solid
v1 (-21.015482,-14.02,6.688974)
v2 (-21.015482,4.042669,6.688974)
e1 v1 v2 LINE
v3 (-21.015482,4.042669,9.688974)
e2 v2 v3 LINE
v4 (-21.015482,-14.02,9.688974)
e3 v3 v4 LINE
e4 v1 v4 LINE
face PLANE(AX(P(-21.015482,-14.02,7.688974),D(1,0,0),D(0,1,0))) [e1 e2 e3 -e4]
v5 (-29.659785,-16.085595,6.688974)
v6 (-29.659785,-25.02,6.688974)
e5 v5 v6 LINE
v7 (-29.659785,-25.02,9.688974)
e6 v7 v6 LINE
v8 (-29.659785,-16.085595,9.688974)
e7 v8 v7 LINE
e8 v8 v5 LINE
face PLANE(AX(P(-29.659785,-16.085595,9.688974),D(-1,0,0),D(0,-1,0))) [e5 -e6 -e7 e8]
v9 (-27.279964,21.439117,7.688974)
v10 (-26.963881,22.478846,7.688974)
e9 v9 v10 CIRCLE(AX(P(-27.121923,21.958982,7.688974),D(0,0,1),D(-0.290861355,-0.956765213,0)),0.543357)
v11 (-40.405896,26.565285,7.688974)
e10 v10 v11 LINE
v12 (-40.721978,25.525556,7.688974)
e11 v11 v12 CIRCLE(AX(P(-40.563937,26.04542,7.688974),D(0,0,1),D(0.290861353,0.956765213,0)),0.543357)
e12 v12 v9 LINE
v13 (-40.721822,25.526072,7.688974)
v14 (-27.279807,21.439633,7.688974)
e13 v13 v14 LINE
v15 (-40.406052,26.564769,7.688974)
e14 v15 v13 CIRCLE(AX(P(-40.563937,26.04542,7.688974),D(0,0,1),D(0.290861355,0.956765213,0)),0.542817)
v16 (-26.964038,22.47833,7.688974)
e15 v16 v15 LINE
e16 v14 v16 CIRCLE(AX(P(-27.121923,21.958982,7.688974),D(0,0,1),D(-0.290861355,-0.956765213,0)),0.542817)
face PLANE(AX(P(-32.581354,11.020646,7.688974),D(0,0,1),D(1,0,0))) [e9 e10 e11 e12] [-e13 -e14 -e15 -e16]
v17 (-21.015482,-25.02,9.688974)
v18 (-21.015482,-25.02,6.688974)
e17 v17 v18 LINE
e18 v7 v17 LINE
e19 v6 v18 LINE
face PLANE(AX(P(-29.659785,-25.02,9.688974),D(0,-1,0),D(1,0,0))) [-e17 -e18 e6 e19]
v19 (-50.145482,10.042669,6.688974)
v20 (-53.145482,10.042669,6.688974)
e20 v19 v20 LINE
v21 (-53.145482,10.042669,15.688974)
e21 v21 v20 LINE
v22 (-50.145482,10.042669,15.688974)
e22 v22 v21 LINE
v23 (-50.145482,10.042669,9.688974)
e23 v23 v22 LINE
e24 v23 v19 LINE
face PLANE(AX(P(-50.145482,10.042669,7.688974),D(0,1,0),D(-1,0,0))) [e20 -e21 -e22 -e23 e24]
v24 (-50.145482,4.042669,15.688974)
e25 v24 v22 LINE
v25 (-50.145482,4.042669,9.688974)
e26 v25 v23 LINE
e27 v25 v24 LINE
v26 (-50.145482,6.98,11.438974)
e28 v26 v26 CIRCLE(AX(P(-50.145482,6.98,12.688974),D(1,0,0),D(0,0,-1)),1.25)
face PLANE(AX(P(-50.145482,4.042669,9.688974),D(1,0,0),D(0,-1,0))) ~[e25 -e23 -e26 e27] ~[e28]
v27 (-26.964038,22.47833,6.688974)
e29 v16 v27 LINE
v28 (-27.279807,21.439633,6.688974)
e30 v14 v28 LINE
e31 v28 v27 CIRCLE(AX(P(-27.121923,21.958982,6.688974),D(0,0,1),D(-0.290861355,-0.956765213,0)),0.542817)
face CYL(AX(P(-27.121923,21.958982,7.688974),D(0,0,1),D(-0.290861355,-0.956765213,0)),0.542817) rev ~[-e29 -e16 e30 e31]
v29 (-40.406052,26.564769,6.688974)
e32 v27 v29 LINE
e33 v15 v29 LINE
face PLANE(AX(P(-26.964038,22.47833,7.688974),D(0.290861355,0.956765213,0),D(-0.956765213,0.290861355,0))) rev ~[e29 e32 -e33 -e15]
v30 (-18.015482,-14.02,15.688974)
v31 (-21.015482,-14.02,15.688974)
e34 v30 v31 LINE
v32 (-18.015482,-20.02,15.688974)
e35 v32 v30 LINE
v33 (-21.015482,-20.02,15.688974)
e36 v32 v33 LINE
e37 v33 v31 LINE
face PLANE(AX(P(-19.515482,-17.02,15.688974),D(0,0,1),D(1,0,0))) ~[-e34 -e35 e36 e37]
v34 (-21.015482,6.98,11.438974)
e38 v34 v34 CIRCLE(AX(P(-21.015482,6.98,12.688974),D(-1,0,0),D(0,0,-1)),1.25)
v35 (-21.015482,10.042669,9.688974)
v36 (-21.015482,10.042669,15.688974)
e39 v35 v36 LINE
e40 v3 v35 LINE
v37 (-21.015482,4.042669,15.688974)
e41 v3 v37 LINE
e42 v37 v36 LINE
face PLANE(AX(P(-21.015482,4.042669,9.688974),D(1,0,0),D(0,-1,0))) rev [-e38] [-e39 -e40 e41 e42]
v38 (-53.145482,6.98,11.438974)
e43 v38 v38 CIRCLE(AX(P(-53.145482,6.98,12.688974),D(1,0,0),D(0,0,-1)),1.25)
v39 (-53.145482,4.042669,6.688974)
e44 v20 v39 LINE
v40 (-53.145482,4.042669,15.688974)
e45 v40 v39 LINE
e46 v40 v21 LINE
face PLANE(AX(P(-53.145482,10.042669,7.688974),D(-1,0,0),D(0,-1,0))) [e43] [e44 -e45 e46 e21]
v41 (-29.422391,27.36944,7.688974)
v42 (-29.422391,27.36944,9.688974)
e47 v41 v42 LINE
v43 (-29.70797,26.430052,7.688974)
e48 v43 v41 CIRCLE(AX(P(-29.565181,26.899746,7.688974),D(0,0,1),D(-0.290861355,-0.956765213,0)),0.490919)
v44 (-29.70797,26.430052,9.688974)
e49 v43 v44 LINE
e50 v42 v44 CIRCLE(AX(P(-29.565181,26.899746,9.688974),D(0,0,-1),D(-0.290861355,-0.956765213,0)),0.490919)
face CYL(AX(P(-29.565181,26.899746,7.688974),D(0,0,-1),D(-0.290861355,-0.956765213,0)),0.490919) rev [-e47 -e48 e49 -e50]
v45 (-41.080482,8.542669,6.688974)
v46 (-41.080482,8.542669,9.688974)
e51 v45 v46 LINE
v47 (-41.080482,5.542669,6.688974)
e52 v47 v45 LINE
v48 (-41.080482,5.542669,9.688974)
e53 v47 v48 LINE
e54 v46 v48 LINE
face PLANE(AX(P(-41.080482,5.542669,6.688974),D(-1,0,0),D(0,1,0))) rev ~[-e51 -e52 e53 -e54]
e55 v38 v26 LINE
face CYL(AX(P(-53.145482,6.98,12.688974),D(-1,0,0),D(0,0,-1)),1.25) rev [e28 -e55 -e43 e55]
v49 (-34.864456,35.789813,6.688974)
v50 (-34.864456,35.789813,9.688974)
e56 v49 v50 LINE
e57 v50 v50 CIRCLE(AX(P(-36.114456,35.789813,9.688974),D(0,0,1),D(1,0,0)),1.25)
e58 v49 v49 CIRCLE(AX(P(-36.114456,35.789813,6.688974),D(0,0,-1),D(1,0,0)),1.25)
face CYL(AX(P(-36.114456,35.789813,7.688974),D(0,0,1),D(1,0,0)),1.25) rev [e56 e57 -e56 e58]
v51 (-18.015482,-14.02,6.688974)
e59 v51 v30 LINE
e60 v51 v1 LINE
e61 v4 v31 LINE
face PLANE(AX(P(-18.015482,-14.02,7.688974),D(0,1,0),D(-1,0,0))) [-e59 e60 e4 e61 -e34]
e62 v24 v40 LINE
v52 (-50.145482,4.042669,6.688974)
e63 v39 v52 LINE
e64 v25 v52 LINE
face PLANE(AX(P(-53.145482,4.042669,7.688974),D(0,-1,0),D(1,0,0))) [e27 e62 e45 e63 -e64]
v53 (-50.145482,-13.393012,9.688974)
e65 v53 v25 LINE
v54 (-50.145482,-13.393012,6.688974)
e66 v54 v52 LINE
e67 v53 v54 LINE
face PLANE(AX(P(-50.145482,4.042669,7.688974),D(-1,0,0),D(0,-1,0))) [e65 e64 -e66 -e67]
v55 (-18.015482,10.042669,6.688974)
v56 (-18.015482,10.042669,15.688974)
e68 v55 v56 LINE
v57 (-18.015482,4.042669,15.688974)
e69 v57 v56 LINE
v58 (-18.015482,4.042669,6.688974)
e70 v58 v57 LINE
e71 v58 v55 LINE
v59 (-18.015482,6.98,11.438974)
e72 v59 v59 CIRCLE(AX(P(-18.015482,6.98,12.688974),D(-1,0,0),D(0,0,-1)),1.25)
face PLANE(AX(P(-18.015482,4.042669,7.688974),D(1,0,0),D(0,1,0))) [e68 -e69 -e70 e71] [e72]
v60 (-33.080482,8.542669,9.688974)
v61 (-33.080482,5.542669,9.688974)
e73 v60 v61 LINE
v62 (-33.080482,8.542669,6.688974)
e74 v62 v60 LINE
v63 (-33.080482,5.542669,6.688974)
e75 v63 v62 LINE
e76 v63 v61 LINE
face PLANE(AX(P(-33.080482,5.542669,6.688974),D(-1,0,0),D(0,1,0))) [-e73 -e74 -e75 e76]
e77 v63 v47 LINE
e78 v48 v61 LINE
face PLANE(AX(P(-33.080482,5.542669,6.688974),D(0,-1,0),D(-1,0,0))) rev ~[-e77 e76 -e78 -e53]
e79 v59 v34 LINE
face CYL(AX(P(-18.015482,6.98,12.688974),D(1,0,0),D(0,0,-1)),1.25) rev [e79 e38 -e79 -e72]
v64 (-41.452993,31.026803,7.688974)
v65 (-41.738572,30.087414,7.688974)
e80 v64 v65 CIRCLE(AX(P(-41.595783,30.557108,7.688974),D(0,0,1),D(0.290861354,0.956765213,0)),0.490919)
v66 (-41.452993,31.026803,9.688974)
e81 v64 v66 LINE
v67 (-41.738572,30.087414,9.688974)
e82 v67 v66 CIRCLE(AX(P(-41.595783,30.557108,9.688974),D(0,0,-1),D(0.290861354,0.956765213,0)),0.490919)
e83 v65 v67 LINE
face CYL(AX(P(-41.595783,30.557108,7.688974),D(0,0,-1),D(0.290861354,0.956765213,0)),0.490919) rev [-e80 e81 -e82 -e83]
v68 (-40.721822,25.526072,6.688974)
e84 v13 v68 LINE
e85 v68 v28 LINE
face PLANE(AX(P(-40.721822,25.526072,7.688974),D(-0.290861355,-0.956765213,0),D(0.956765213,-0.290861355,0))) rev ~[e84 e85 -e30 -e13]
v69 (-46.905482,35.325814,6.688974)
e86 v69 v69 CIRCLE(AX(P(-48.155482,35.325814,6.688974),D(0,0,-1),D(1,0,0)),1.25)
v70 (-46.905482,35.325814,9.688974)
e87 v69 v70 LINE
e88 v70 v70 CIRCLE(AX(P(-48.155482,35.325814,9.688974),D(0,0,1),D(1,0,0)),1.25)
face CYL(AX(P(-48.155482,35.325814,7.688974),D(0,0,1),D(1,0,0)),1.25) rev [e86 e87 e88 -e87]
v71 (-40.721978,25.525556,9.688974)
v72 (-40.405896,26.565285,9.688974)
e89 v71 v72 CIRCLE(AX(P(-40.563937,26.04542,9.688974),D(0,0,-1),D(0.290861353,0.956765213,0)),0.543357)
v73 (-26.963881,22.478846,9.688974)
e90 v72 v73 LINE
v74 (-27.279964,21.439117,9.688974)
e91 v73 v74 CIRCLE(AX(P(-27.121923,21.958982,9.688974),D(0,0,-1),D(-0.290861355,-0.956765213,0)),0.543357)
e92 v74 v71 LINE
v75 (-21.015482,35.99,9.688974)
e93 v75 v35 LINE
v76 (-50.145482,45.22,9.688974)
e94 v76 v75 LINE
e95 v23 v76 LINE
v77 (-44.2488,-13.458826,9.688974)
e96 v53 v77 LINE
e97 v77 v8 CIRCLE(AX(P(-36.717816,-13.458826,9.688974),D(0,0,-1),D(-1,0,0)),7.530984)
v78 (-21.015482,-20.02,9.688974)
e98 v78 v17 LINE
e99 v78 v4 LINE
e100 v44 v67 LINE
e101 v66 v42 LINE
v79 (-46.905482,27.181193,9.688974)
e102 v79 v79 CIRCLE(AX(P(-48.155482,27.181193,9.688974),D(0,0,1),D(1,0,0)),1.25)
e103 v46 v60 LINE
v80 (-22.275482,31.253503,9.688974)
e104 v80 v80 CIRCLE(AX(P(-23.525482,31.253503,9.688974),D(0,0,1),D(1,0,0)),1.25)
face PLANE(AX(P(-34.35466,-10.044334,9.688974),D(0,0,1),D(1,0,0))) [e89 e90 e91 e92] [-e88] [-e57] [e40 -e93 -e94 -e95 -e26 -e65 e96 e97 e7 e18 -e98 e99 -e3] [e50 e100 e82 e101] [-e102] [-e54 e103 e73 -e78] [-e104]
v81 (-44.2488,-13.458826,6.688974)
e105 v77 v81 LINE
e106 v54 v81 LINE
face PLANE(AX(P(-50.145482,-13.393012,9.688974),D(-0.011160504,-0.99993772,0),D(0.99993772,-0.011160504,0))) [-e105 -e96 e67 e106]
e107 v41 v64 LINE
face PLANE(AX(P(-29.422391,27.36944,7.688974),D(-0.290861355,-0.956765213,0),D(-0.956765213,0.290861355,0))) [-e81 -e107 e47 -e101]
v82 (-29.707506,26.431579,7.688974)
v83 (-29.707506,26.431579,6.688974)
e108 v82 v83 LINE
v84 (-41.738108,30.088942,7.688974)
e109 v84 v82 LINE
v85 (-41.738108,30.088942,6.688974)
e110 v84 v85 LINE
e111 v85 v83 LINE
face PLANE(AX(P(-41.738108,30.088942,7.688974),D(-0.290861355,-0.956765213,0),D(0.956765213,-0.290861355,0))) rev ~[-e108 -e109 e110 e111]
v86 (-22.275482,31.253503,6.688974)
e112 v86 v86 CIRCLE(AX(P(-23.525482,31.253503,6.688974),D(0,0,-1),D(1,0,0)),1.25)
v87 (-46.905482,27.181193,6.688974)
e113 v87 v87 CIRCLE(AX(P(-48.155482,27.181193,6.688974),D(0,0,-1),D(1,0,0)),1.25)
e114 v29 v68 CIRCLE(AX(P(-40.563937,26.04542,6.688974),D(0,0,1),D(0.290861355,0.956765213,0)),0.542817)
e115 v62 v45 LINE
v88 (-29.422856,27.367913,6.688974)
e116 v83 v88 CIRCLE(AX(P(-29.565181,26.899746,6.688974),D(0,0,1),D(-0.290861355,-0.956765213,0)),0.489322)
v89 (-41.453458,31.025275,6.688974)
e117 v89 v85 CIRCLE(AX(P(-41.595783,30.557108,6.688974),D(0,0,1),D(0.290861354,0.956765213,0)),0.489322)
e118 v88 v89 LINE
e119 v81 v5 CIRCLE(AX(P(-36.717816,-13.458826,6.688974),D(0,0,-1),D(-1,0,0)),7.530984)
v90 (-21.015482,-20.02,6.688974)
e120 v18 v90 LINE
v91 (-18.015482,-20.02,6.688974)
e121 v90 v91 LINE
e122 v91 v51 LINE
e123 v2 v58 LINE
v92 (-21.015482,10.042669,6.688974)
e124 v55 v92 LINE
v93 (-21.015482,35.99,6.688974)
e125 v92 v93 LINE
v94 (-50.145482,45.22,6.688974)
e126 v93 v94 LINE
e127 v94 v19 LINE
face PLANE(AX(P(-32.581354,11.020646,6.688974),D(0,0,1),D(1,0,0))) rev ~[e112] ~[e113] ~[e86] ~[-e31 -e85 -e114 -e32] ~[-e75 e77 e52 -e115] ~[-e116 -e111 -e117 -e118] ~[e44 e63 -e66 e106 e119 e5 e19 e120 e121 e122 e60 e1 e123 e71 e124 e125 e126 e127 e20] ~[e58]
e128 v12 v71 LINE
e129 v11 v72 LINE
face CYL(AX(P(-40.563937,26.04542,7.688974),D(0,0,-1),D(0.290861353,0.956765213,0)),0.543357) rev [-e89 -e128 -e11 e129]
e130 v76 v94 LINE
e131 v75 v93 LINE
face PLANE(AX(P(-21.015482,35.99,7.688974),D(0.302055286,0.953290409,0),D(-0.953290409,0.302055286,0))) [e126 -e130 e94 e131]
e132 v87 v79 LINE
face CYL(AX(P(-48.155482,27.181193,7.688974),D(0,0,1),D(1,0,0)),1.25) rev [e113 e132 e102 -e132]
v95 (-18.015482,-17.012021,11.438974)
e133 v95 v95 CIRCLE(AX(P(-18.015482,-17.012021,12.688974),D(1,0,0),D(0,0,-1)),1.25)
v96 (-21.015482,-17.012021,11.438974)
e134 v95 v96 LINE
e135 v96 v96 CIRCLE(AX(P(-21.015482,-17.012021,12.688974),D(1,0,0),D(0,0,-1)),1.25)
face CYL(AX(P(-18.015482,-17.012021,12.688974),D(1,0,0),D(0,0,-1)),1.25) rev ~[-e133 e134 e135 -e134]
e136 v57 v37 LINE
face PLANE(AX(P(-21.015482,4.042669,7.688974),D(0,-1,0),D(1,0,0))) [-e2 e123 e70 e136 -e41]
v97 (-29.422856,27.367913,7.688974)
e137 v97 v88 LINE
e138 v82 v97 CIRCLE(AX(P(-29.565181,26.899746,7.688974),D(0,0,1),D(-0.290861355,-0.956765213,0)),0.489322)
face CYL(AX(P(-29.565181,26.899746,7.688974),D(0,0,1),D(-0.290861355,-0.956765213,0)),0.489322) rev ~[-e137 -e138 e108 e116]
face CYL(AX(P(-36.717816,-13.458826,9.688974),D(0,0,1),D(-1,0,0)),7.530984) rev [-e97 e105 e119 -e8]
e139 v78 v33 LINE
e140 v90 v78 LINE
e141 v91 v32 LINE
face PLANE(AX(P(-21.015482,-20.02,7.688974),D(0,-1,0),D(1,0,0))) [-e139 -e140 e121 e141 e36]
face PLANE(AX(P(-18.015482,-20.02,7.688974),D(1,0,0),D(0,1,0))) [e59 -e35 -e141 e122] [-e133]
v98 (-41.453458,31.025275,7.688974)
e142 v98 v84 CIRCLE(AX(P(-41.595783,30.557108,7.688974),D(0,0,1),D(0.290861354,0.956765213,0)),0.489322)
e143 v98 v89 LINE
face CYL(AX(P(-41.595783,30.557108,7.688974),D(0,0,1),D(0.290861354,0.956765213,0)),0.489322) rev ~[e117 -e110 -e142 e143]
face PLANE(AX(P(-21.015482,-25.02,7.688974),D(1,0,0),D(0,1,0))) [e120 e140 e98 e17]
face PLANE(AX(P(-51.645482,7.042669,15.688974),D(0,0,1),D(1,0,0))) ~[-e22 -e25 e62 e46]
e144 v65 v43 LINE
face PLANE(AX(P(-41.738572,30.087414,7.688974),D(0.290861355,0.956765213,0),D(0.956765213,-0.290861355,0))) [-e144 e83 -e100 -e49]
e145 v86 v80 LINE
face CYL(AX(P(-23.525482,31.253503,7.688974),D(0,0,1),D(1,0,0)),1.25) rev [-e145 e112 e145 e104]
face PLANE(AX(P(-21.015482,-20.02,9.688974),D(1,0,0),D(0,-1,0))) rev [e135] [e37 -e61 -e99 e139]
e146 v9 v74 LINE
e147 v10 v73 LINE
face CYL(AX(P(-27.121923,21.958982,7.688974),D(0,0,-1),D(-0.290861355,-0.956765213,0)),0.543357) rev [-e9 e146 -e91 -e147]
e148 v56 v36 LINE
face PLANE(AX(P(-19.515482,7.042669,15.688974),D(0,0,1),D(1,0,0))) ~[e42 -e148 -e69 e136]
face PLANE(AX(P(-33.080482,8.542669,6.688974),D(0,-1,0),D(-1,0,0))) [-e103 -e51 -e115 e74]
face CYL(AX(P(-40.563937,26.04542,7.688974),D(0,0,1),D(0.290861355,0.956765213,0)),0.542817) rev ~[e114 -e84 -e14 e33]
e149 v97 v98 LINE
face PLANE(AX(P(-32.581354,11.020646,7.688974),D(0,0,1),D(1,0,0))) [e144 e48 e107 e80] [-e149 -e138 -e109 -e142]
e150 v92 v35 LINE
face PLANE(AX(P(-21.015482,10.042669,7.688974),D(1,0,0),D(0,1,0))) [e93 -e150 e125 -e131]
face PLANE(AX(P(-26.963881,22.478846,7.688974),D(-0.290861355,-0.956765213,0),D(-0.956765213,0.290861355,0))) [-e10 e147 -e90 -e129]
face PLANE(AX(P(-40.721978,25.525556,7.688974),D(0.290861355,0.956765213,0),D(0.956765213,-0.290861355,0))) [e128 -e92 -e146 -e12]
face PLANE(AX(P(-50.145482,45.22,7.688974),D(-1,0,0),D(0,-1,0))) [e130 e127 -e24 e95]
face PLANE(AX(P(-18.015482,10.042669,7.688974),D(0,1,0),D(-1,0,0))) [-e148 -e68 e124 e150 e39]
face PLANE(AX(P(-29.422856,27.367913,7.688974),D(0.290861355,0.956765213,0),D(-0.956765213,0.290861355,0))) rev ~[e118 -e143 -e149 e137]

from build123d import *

# Parameters (mm, degrees)
SKETCH1_W            = 29.13
SKETCH1_H            = 2
BOSS_EXTRUDE1_DEPTH  = 45.22
SKETCH15_W           = 3.835
SKETCH15_H           = 2
BOSS_EXTRUDE7_DEPTH  = 25.02
SKETCH19_W           = 2
SKETCH19_H           = 6
BOSS_EXTRUDE9_DEPTH  = 3
SKETCH20_W           = 3
SKETCH20_H           = 6
BOSS_EXTRUDE10_DEPTH = 6
CUT_EXTRUDE10_DEPTH  = 4
SKETCH27_R           = 1.25
CUT_EXTRUDE13_DEPTH  = 5
CUT_EXTRUDE16_DEPTH  = 4.86
CUT_EXTRUDE20_DEPTH  = 5
SKETCH28_R           = 1.25
CUT_EXTRUDE23_DEPTH  = 5
SKETCH32_R           = 1.25
CUT_EXTRUDE25_DEPTH  = 5
SKETCH38_W           = 2
SKETCH38_H           = 6
BOSS_EXTRUDE11_DEPTH = 3
SKETCH39_W           = 3
SKETCH39_H           = 6
BOSS_EXTRUDE12_DEPTH = 6
SKETCH40_R           = 1.250000005
CUT_EXTRUDE26_DEPTH  = 6
SKETCH51_W           = 2
SKETCH51_H           = 6
BOSS_EXTRUDE15_DEPTH = 3
SKETCH52_W           = 3
SKETCH52_H           = 6
BOSS_EXTRUDE16_DEPTH = 6
SKETCH53_R           = 1.249999995
CUT_EXTRUDE28_DEPTH  = 6
SKETCH54_R           = 1.25
CUT_EXTRUDE29_DEPTH  = 3
CUT_EXTRUDE30_DEPTH  = 10
BOSS_EXTRUDE17_DEPTH = 3
SKETCH57_R           = 1.25
BOSS_EXTRUDE18_DEPTH = 1
SKETCH58_W           = 8
SKETCH58_H           = 3
CUT_EXTRUDE31_DEPTH  = 10


with BuildPart() as part:
    # Sketch1 → Boss-Extrude1 (new body)
    with BuildSketch(Plane(origin=(0, 0, 0), x_dir=(1, 0, 0), z_dir=(0, 1, 0))):
        with Locations((-35.580481579, -22.688974349)):
            Rectangle(SKETCH1_W, SKETCH1_H)
    extrude(amount=BOSS_EXTRUDE1_DEPTH)

    # Sketch15 → Boss-Extrude7 (add)
    with BuildSketch(Plane.XZ):
        with Locations((-22.932981579, 22.688974349)):
            Rectangle(SKETCH15_W, SKETCH15_H)
    extrude(amount=BOSS_EXTRUDE7_DEPTH)

    # Sketch19 → Boss-Extrude9 (add)
    with BuildSketch(Plane(origin=(-21.015481579, 0, 0), x_dir=(0, 0, -1), z_dir=(1, 0, 0))):
        with Locations((-22.688974349, -17.02)):
            Rectangle(SKETCH19_W, SKETCH19_H)
    extrude(amount=BOSS_EXTRUDE9_DEPTH)

    # Sketch20 → Boss-Extrude10 (add)
    with BuildSketch(Plane(origin=(0, 0, 21.688974349), x_dir=(-1, 0, 0), z_dir=(0, 0, -1))):
        with Locations((19.515481579, -17.02)):
            Rectangle(SKETCH20_W, SKETCH20_H)
    extrude(amount=BOSS_EXTRUDE10_DEPTH)

    # Sketch24 → Cut-Extrude10 (cut)
    with BuildSketch(Plane.XY.offset(23.688974349)):
        Polygon((-21.015481579, 45.22), (-21.015481579, 37.57), (-50.145481579, 45.22), align=None)
    extrude(amount=-CUT_EXTRUDE10_DEPTH, mode=Mode.SUBTRACT)

    # Sketch27 → Cut-Extrude13 (cut)
    with BuildSketch(Plane.XY.offset(23.688974349)):
        with Locations((-48.155481573, 35.325814089)):
            Circle(SKETCH27_R)
        with Locations((-48.155481573, 27.181192799)):
            Circle(SKETCH27_R)
    extrude(amount=-CUT_EXTRUDE13_DEPTH, mode=Mode.SUBTRACT)

    # Sketch35 → Cut-Extrude16 (cut)
    with BuildSketch(Plane.XY.offset(23.688974349)):
        Polygon((-21.015481579, 35.99), (-21.015481579, 37.57), (-50.145481579, 45.22), align=None)
    extrude(amount=-CUT_EXTRUDE16_DEPTH, mode=Mode.SUBTRACT)


with BuildPart() as body_2:
    # Mirror1: mirrored copy
    add(part.part.mirror(Plane(origin=(0, 0, 15.688974349), x_dir=(1, 0, 0), z_dir=(0, 0, -1))))

    # Sketch37 → Cut-Extrude20 (cut)
    with BuildSketch(Plane(origin=(0, 0, 7.688974349), x_dir=(-1, 0, 0), z_dir=(0, 0, -1))):
        with BuildLine():
            Line((29.422391304, 27.369440111), (41.452993211, 31.026802565))
            ThreePointArc((41.452993211, 31.026802565), (42.065476612, 30.699897808), (41.738571855, 30.087414406))
            Line((41.738571855, 30.087414406), (29.707969948, 26.430051952))
            ThreePointArc((29.707969948, 26.430051952), (29.095486546, 26.75695671), (29.422391304, 27.369440111))
        make_face()
        with BuildLine():
            Line((26.963881394, 22.478846245), (40.405895564, 26.565285004))
            ThreePointArc((40.405895564, 26.565285004), (41.083801623, 26.203461785), (40.721978404, 25.525555725))
            Line((40.721978404, 25.525555725), (27.279964235, 21.439116966))
            ThreePointArc((27.279964235, 21.439116966), (26.602058175, 21.800940185), (26.963881394, 22.478846245))
        make_face()
    extrude(amount=-CUT_EXTRUDE20_DEPTH, mode=Mode.SUBTRACT)


with BuildPart() as body_2_2:
    # Mirror2: mirrored copy
    add(body_2.part.mirror(Plane.XY.offset(15.688974349)))

    # Sketch28 → Cut-Extrude23 (cut)
    with BuildSketch(Plane.XY.offset(23.688974349)):
        with Locations((-23.525481526, 31.253503444)):
            Circle(SKETCH28_R)
    extrude(amount=-CUT_EXTRUDE23_DEPTH, mode=Mode.SUBTRACT)

    # Sketch32 → Cut-Extrude25 (cut)
    with BuildSketch(Plane.XY.offset(23.688974349)):
        with Locations((-36.114456484, 35.789812978)):
            Circle(SKETCH32_R)
    extrude(amount=-CUT_EXTRUDE25_DEPTH, mode=Mode.SUBTRACT)

    # Sketch38 → Boss-Extrude11 (add)
    with BuildSketch(Plane.ZY.offset(50.145481579)):
        with Locations((22.688974349, 7.042669101)):
            Rectangle(SKETCH38_W, SKETCH38_H)
    extrude(amount=BOSS_EXTRUDE11_DEPTH)

    # Sketch39 → Boss-Extrude12 (add)
    with BuildSketch(Plane(origin=(0, 0, 21.688974349), x_dir=(-1, 0, 0), z_dir=(0, 0, -1))):
        with Locations((51.645481579, 7.042669101)):
            Rectangle(SKETCH39_W, SKETCH39_H)
    extrude(amount=BOSS_EXTRUDE12_DEPTH)

    # Sketch40 → Cut-Extrude26 (cut)
    with BuildSketch(Plane.ZY.offset(53.145481579)):
        with Locations((18.688974344, 6.98)):
            Circle(SKETCH40_R)
    extrude(amount=-CUT_EXTRUDE26_DEPTH, mode=Mode.SUBTRACT)

    # Sketch51 → Boss-Extrude15 (add)
    with BuildSketch(Plane(origin=(-21.015481579, 0, 0), x_dir=(0, 0, -1), z_dir=(1, 0, 0))):
        with Locations((-22.688974349, 7.042669101)):
            Rectangle(SKETCH51_W, SKETCH51_H)
    extrude(amount=BOSS_EXTRUDE15_DEPTH)

    # Sketch52 → Boss-Extrude16 (add)
    with BuildSketch(Plane(origin=(0, 0, 21.688974349), x_dir=(-1, 0, 0), z_dir=(0, 0, -1))):
        with Locations((19.515481579, 7.042669101)):
            Rectangle(SKETCH52_W, SKETCH52_H)
    extrude(amount=BOSS_EXTRUDE16_DEPTH)

    # Sketch53 → Cut-Extrude28 (cut)
    with BuildSketch(Plane(origin=(-18.015481579, 0, 0), x_dir=(0, 0, -1), z_dir=(1, 0, 0))):
        with Locations(Location((-18.688974344, 6.98, 0), (0, 0, 180))):
            Circle(SKETCH53_R)
    extrude(amount=-CUT_EXTRUDE28_DEPTH, mode=Mode.SUBTRACT)


with BuildPart() as body_2_3:
    # Mirror4: mirrored copy
    add(body_2_2.part.mirror(Plane(origin=(0, 0, 15.688974349), x_dir=(1, 0, 0), z_dir=(0, 0, -1))))

    # Sketch54 → Cut-Extrude29 (cut)
    with BuildSketch(Plane(origin=(-18.015481579, 0, 0), x_dir=(0, 0, -1), z_dir=(1, 0, 0))):
        with Locations((-12.688974354, -17.012020694)):
            Circle(SKETCH54_R)
    extrude(amount=-CUT_EXTRUDE29_DEPTH, mode=Mode.SUBTRACT)

    # Sketch55 → Cut-Extrude30 (cut)
    with BuildSketch(Plane(origin=(0, 0, 7.688974349), x_dir=(-1, 0, 0), z_dir=(0, 0, -1))):
        Polygon((24.850481579, 0), (21.015481579, -25.02), (24.850481579, -25.02), align=None)
    extrude(amount=-CUT_EXTRUDE30_DEPTH, mode=Mode.SUBTRACT)

    # Sketch56 → Boss-Extrude17 (add)
    with BuildSketch(Plane.XY.offset(9.688974349)):
        with BuildLine():
            Line((-21.015481579, -25.02), (-24.850481579, 0))
            Line((-24.850481579, 0), (-50.145481579, 0))
            Line((-50.145481579, 0), (-50.145481579, -13.39301212))
            Line((-50.145481579, -13.39301212), (-44.248800379, -13.458826151))
            ThreePointArc((-44.248800379, -13.458826151), (-35.383312942, -6.047023199), (-29.659784654, -16.085594533))
            Line((-29.659784654, -16.085594533), (-29.659784654, -25.02))
            Line((-29.659784654, -25.02), (-21.015481579, -25.02))
        make_face()
    extrude(amount=-BOSS_EXTRUDE17_DEPTH)

    # Sketch57 → Boss-Extrude18 (add)
    with BuildSketch(Plane(origin=(0, 0, 7.688974349), x_dir=(-1, 0, 0), z_dir=(0, 0, -1))):
        Polygon((21.015481579, -25.02), (21.015481579, -20.02), (18.015481579, -20.02), (18.015481579, -14.02), (21.015481579, -14.02), (21.015481579, 4.042669101), (18.015481579, 4.042669101), (18.015481579, 10.042669101), (21.015481579, 10.042669101), (21.015481579, 35.99), (50.145481579, 45.22), (50.145481579, 10.042669101), (53.145481579, 10.042669101), (53.145481579, 4.042669101), (50.145481579, 4.042669101), (50.145481579, 0), (24.850481579, 0), align=None)
        with Locations(Location((23.525481526, 31.253503444, 0), (0, 0, 180))):
            Circle(SKETCH57_R, mode=Mode.SUBTRACT)
        with Locations(Location((36.114456484, 35.789812978, 0), (0, 0, 180))):
            Circle(SKETCH57_R, mode=Mode.SUBTRACT)
        with Locations(Location((48.155481573, 35.325814089, 0), (0, 0, 180))):
            Circle(SKETCH57_R, mode=Mode.SUBTRACT)
        with Locations(Location((48.155481573, 27.181192799, 0), (0, 0, 180))):
            Circle(SKETCH57_R, mode=Mode.SUBTRACT)
        with BuildLine():
            Line((29.422855642, 27.367912705), (41.45345755, 31.025275159))
            ThreePointArc((41.45345755, 31.025275159), (42.063949206, 30.699433469), (41.738107516, 30.088941812))
            Line((41.738107516, 30.088941812), (29.707505609, 26.431579358))
            ThreePointArc((29.707505609, 26.431579358), (29.097013952, 26.757421048), (29.422855642, 27.367912705))
        make_face(mode=Mode.SUBTRACT)
        with BuildLine():
            Line((26.964038287, 22.478330158), (40.406052456, 26.564768917))
            ThreePointArc((40.406052456, 26.564768917), (41.083285536, 26.203304892), (40.721821511, 25.526071812))
            Line((40.721821511, 25.526071812), (27.279807342, 21.439633053))
            ThreePointArc((27.279807342, 21.439633053), (26.602574262, 21.801097078), (26.964038287, 22.478330158))
        make_face(mode=Mode.SUBTRACT)
    extrude(amount=BOSS_EXTRUDE18_DEPTH)

    # Sketch58 → Cut-Extrude31 (cut)
    with BuildSketch(Plane(origin=(0, 0, 6.688974349), x_dir=(-1, 0, 0), z_dir=(0, 0, -1))):
        with Locations((37.080481579, 7.042669101)):
            Rectangle(SKETCH58_W, SKETCH58_H)
    extrude(amount=-CUT_EXTRUDE31_DEPTH, mode=Mode.SUBTRACT)


solid = body_2_3.part
